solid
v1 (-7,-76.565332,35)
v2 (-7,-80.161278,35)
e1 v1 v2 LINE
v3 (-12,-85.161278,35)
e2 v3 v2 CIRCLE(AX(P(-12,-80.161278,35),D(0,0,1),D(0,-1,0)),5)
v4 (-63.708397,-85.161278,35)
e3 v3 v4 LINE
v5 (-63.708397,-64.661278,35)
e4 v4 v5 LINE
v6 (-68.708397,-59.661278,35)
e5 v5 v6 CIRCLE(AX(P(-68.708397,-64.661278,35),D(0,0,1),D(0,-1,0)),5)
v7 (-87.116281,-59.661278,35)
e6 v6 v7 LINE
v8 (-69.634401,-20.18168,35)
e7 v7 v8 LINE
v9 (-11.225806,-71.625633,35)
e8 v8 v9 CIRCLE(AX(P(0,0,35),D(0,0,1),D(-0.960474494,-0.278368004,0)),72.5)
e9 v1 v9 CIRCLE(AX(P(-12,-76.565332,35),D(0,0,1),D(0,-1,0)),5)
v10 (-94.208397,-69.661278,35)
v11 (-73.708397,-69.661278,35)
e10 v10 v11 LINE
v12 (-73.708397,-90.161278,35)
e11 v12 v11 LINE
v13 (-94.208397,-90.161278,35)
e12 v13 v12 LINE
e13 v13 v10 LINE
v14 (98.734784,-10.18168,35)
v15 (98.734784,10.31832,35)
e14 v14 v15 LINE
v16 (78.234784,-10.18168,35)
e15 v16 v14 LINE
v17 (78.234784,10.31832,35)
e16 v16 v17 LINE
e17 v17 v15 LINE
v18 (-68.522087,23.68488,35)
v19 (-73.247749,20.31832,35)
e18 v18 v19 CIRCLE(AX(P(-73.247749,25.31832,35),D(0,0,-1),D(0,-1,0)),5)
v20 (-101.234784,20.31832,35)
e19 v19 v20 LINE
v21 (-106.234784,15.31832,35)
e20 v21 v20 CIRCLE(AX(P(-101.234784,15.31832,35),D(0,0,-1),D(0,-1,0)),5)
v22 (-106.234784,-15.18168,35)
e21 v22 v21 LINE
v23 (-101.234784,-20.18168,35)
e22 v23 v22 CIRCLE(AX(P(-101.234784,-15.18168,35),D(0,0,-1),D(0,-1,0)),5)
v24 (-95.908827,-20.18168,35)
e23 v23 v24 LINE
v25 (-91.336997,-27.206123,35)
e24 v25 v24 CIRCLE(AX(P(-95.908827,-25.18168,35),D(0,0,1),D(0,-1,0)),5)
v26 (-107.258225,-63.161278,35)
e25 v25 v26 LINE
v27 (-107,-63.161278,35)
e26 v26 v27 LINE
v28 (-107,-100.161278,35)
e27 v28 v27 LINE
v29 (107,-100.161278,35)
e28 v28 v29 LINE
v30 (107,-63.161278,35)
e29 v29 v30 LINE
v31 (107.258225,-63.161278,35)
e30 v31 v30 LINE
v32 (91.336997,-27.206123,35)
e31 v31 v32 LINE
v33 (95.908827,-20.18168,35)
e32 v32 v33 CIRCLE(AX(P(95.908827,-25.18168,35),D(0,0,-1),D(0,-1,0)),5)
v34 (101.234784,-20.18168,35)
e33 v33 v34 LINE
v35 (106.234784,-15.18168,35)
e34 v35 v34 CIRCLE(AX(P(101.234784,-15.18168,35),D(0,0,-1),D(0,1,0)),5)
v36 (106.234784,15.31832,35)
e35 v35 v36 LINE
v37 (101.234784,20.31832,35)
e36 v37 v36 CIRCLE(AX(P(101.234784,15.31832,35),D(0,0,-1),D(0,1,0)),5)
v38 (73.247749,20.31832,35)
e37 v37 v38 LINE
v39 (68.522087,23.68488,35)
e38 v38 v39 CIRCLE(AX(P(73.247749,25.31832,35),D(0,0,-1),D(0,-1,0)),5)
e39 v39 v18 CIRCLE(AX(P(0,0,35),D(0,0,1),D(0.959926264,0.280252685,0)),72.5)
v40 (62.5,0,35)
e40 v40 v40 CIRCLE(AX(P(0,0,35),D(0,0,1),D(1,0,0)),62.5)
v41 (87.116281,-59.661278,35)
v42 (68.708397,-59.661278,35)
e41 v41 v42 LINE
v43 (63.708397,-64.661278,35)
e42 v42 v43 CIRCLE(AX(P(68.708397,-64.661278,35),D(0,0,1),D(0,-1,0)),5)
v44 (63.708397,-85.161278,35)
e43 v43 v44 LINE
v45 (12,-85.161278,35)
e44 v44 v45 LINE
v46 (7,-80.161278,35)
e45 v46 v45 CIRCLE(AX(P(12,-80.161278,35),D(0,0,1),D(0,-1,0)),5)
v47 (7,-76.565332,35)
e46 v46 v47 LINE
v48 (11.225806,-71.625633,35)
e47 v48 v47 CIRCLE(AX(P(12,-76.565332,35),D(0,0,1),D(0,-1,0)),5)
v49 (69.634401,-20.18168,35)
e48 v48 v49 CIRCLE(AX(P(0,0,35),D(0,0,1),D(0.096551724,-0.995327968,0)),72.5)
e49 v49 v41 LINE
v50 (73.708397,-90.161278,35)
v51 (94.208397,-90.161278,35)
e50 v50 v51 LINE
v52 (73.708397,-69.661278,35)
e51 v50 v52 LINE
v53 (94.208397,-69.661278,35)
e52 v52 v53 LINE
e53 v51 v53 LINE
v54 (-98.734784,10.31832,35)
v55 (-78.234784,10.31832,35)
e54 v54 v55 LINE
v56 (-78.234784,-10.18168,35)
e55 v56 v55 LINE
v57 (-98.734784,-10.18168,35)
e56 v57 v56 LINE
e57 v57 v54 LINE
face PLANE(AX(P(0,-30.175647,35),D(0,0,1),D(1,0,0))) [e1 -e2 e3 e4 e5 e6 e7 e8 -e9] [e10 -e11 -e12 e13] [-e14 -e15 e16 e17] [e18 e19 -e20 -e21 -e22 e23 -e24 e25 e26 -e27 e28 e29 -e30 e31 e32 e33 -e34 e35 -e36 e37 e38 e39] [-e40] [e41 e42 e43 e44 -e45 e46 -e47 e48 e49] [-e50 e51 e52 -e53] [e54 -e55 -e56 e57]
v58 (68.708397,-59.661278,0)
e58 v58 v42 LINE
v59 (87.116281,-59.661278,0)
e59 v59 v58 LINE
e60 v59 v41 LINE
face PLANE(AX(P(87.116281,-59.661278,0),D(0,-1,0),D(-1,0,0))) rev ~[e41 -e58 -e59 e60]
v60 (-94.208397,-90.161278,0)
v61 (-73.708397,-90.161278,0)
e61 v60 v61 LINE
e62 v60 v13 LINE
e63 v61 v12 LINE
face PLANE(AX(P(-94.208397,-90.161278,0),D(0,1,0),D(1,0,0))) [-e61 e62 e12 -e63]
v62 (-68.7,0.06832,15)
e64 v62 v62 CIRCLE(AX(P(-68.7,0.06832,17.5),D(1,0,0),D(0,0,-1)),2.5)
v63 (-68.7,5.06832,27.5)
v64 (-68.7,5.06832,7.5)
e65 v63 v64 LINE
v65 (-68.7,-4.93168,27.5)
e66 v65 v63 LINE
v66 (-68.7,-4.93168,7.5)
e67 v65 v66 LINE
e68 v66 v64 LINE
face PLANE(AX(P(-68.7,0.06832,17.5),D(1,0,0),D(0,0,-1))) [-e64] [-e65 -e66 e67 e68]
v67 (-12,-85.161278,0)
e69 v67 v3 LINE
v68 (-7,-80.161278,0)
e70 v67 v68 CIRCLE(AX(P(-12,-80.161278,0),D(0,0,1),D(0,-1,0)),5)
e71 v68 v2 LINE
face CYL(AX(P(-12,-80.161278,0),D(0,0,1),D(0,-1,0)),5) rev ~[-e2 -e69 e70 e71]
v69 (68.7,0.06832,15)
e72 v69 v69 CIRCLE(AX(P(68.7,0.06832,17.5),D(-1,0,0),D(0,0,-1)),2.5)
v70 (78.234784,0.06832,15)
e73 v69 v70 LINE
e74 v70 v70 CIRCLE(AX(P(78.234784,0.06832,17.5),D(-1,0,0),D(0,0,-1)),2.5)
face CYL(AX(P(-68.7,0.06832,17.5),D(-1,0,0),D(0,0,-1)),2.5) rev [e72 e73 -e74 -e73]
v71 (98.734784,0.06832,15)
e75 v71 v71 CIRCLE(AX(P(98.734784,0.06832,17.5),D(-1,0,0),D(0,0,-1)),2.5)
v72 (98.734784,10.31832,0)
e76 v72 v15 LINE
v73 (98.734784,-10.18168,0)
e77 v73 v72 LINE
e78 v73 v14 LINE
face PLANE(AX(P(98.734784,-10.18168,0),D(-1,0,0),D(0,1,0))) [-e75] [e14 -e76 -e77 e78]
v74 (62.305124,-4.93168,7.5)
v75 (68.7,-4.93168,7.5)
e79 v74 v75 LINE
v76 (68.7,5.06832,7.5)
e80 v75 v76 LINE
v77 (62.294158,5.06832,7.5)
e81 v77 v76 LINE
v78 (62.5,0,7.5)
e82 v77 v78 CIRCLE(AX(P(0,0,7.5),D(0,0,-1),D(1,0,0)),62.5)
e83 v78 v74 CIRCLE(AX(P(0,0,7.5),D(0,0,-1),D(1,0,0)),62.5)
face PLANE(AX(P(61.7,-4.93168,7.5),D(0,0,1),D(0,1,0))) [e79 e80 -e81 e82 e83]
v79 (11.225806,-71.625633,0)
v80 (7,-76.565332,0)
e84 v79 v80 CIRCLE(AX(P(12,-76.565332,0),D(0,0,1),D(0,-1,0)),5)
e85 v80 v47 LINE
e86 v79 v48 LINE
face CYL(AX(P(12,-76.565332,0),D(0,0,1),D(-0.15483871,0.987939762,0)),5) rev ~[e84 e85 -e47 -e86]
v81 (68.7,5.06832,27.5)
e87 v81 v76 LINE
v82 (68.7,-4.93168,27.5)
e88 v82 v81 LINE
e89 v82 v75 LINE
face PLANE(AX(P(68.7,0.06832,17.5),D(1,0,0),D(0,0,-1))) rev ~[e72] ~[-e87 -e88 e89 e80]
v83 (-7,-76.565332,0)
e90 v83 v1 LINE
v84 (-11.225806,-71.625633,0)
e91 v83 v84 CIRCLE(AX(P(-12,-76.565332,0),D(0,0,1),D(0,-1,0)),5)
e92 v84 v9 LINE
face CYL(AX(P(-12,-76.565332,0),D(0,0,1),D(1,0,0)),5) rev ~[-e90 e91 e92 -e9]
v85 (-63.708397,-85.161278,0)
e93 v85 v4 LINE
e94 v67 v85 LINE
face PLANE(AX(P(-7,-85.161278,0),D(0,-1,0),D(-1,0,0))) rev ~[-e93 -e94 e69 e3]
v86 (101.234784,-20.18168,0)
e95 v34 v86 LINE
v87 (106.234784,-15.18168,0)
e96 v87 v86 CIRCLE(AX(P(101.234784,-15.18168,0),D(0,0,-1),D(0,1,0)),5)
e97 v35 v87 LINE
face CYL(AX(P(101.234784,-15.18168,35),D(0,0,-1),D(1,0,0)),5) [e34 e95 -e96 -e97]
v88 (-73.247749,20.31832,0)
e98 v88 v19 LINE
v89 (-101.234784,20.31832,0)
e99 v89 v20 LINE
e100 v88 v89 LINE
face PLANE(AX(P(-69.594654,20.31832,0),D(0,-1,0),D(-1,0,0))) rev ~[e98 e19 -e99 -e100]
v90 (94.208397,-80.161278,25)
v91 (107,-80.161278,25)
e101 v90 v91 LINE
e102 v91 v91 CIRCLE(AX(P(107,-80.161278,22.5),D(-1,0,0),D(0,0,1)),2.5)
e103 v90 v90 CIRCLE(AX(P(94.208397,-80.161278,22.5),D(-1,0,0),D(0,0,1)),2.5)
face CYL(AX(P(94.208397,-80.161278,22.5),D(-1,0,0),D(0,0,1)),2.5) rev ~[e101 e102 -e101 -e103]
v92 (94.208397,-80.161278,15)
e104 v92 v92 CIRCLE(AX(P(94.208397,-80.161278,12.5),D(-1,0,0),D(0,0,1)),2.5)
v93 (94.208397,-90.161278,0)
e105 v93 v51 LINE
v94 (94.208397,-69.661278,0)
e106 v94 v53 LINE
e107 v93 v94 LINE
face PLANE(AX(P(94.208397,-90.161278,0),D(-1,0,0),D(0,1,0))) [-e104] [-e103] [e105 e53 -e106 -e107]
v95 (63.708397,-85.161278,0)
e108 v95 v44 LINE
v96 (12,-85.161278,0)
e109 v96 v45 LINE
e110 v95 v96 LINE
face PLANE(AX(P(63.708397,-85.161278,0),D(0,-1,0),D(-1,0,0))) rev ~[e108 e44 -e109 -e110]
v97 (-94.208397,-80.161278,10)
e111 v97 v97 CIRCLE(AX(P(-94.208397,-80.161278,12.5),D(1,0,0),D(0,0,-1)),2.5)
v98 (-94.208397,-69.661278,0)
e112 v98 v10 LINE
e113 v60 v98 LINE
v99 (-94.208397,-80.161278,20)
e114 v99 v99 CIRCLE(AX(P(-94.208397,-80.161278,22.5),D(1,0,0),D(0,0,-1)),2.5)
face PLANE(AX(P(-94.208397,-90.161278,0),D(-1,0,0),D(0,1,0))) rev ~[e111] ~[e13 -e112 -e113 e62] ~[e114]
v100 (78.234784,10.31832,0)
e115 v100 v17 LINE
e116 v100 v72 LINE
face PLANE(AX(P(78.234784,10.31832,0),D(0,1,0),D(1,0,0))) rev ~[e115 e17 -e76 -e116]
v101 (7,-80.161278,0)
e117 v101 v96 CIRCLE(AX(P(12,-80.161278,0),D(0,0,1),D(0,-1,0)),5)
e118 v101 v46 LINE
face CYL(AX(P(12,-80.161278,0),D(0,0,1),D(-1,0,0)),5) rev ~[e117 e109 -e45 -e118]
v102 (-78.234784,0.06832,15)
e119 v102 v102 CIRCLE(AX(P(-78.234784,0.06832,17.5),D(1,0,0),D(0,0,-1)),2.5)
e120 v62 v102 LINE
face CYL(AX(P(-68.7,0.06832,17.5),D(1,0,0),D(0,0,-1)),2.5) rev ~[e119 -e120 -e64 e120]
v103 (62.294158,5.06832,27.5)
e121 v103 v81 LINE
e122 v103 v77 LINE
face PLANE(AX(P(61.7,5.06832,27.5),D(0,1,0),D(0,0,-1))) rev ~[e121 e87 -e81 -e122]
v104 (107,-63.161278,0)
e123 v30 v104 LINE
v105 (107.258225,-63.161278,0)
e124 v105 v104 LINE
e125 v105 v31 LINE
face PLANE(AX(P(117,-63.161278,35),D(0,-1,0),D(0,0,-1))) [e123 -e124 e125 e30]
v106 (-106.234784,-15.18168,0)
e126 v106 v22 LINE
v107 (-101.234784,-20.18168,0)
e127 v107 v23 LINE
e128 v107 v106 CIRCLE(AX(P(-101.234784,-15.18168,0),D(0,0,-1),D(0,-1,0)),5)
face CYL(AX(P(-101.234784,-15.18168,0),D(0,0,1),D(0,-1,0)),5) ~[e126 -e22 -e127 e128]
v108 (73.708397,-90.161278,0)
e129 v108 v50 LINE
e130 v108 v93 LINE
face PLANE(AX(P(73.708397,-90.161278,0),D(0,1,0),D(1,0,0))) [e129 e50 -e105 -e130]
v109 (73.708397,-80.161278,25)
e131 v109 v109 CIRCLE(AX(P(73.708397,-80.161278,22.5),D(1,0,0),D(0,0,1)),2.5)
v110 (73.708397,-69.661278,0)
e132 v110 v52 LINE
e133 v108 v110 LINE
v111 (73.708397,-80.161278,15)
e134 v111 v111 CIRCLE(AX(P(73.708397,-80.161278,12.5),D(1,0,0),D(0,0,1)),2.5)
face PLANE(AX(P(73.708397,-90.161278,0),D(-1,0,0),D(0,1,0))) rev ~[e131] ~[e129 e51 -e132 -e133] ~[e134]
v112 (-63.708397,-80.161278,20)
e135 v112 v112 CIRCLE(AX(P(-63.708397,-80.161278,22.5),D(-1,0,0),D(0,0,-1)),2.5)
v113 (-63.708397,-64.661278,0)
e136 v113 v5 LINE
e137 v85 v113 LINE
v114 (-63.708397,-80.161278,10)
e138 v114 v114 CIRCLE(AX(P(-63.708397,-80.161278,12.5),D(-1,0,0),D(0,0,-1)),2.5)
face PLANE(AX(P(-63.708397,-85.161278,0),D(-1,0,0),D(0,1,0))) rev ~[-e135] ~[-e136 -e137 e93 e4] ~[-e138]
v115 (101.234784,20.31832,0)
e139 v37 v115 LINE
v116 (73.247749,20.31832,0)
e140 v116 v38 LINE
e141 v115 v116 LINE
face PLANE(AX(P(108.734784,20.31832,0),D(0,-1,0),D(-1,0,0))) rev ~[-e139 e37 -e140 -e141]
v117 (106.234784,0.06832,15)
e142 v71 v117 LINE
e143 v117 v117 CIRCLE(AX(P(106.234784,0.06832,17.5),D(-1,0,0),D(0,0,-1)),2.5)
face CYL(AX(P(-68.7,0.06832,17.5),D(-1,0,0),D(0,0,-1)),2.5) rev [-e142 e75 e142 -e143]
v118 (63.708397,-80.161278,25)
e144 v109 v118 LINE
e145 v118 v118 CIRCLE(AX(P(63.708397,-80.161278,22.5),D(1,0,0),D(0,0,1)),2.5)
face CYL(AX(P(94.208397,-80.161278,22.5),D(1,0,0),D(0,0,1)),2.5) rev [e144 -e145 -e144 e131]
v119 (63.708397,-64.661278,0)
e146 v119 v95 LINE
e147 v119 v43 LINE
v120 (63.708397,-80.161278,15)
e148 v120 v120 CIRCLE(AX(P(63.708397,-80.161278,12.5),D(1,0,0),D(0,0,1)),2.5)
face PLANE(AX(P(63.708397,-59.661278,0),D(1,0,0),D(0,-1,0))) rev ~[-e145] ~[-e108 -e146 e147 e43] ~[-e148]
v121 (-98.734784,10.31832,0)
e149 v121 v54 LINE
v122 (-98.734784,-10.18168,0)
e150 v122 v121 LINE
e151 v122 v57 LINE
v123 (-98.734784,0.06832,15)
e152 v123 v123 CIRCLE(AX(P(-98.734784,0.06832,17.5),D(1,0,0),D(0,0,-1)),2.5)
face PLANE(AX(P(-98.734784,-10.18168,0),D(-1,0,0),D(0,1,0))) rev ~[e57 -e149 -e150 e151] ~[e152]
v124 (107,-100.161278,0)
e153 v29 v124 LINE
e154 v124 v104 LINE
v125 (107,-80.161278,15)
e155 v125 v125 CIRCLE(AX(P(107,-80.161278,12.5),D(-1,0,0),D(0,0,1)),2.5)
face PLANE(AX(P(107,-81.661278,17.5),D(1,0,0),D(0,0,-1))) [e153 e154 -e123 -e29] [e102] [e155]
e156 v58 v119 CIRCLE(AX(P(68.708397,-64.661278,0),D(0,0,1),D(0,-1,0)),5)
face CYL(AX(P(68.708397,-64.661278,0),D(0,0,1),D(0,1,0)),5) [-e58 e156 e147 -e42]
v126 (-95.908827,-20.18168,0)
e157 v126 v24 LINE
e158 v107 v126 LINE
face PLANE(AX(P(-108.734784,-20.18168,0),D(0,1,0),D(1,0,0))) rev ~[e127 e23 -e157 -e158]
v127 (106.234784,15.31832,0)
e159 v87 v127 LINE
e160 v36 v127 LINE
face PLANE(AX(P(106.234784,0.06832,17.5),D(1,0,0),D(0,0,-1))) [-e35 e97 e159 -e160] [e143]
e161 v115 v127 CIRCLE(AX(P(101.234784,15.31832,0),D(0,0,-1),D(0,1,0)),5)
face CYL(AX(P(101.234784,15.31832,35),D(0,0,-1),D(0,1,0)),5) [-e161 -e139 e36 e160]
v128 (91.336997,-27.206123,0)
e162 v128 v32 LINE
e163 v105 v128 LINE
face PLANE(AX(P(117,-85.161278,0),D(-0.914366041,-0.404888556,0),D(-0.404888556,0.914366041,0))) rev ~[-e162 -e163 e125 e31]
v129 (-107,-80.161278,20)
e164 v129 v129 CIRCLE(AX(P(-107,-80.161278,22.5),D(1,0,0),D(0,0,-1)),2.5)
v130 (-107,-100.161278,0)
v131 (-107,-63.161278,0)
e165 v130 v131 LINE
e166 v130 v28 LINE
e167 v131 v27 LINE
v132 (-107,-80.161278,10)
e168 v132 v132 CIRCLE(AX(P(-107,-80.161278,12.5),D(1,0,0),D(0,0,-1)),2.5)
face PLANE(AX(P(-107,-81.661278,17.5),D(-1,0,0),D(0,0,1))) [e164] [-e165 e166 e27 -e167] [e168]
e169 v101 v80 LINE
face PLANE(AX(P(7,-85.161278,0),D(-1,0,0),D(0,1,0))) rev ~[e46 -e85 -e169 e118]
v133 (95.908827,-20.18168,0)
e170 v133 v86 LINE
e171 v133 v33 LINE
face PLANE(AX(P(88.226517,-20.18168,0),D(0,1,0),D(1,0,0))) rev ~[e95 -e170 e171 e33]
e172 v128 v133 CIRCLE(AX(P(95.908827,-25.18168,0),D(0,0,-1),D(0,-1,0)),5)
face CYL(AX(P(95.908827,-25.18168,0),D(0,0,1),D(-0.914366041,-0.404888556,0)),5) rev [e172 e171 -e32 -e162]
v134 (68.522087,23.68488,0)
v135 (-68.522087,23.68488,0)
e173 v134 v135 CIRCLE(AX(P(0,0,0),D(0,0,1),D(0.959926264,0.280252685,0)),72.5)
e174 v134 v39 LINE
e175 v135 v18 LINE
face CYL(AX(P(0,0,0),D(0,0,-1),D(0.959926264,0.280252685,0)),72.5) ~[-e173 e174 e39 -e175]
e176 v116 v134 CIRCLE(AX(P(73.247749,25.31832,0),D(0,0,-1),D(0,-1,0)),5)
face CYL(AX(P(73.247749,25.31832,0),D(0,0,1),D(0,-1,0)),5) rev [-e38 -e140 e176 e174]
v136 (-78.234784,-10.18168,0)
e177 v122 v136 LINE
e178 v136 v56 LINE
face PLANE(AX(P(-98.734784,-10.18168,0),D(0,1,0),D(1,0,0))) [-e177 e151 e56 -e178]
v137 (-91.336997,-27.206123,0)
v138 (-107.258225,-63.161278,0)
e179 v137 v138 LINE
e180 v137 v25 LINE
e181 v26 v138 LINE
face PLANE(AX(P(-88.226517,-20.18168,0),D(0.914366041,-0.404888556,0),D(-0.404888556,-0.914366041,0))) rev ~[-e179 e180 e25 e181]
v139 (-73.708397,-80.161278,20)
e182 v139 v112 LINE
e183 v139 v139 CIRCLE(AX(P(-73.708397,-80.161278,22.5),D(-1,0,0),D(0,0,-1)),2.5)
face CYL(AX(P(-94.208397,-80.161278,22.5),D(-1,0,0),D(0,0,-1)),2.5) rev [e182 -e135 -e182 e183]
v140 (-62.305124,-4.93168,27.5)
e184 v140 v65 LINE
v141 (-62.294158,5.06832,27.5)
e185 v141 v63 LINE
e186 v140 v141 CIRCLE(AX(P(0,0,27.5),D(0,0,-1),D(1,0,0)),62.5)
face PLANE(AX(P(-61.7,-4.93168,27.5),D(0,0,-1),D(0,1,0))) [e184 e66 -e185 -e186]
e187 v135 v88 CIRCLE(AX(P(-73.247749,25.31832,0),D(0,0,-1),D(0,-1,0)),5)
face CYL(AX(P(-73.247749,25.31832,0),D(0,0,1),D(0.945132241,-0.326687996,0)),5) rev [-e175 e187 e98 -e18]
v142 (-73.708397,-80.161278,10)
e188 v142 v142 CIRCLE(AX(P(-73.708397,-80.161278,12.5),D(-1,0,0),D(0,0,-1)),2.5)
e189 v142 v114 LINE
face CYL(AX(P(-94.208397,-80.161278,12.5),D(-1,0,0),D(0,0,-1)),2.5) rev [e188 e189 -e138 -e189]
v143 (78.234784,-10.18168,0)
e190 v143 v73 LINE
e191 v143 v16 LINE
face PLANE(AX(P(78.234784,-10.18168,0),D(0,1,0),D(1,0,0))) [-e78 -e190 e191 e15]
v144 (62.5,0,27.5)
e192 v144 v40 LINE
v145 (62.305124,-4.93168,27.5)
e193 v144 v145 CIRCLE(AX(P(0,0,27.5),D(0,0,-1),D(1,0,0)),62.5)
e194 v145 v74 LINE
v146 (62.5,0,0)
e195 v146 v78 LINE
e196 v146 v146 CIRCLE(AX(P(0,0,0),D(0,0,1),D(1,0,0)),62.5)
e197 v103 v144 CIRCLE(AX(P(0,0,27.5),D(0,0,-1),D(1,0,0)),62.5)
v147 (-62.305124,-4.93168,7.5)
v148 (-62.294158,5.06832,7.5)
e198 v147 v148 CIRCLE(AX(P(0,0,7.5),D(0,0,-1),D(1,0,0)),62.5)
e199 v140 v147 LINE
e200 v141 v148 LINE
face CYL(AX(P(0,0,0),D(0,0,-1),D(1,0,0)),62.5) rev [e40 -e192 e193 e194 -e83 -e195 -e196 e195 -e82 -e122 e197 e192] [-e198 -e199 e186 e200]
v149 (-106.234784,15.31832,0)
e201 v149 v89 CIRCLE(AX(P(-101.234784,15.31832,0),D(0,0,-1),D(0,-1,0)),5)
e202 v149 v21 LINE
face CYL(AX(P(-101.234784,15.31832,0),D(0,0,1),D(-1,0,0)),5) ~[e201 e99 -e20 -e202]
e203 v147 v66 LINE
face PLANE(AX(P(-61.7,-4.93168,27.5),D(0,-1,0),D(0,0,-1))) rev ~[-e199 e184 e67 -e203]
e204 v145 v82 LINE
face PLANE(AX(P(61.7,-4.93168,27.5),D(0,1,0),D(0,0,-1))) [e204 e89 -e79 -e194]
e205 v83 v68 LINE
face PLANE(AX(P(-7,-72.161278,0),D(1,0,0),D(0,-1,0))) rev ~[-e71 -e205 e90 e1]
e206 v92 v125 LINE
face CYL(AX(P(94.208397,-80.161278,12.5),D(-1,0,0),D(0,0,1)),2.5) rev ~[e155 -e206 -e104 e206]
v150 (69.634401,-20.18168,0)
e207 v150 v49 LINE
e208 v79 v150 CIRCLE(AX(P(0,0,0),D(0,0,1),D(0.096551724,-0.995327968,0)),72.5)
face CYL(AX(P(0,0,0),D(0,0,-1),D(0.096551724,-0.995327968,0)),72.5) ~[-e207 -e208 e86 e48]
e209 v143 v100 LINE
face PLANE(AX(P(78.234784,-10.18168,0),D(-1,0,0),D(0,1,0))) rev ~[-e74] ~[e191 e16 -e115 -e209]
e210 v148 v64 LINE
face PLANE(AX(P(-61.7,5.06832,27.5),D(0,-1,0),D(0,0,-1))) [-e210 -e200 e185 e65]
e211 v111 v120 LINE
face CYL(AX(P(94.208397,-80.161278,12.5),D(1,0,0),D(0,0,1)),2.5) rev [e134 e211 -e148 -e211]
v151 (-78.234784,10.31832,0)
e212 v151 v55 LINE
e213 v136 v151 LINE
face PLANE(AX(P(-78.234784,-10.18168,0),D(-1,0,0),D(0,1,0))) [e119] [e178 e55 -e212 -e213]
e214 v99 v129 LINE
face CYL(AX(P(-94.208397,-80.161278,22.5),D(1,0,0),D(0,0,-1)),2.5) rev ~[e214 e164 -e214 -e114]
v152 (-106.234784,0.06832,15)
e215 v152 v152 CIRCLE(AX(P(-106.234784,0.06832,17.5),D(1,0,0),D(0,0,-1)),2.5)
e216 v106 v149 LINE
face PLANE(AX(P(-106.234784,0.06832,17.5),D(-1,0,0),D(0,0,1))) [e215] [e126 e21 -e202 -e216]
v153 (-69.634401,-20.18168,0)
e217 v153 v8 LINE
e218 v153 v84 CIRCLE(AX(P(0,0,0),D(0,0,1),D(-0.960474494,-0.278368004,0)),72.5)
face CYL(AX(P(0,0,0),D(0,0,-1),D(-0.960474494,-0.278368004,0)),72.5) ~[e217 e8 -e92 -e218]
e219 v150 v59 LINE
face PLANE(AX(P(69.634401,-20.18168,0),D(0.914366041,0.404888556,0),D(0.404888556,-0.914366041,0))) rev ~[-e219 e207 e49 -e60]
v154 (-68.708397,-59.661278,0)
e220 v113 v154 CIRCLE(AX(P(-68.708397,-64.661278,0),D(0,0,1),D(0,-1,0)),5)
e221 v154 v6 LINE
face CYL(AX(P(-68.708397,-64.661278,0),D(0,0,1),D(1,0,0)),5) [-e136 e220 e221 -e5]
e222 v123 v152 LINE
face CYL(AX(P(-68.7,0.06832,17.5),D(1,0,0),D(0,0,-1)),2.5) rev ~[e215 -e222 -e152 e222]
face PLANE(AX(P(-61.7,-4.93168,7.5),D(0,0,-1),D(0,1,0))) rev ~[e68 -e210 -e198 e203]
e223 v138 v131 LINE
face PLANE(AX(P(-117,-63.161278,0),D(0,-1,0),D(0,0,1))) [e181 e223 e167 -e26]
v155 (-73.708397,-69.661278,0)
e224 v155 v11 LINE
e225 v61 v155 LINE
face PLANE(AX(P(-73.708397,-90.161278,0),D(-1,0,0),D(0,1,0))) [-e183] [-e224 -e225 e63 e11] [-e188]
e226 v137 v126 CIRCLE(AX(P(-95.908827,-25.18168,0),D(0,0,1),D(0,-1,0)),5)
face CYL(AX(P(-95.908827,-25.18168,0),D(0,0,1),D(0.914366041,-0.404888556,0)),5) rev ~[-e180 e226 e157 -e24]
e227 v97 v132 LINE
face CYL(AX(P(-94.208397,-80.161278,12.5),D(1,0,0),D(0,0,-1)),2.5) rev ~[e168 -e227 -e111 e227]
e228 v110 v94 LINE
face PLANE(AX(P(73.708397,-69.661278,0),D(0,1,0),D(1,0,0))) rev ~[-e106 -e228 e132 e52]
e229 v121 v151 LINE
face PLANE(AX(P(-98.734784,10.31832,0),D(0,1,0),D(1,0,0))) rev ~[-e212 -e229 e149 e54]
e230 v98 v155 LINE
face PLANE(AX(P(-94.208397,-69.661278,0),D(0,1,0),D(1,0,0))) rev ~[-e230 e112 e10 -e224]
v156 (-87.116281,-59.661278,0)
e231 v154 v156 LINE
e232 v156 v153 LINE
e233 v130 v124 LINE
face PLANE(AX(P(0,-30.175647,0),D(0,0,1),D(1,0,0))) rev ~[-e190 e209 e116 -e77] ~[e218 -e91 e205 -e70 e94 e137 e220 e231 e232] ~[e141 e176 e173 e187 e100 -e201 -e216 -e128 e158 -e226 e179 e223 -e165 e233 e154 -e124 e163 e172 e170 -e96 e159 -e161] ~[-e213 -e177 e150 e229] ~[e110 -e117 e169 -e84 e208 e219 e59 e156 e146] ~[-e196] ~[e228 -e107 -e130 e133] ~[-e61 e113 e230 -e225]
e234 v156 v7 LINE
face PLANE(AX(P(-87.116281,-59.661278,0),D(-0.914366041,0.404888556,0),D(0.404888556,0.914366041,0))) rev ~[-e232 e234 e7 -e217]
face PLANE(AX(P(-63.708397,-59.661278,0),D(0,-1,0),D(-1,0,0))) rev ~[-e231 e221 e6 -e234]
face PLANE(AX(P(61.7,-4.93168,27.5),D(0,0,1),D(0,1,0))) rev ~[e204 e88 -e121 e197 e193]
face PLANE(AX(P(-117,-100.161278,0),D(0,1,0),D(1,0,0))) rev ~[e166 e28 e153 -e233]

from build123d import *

# Parameters (mm, degrees)
SKETCH1_W                = 20.5
SKETCH1_H                = 20.5
SKETCH1_R                = 62.5
BOSS_EXTRUDE1_DEPTH      = 35
FILLET2_R                = 5
SKETCH2_W                = 20
SKETCH2_H                = 10
CUT_EXTRUDE2_DEPTH       = 7
SKETCH3_W                = 20
SKETCH3_H                = 10
CUT_EXTRUDE3_DEPTH       = 7
SKETCH4_W                = 35
SKETCH4_H                = 37
CUT_EXTRUDE4_DEPTH       = 10
SKETCH5_W                = 35
SKETCH5_H                = 37
CUT_EXTRUDE5_DEPTH       = 10
SKETCH6_W                = 35
SKETCH6_H                = 40.5
CUT_EXTRUDE8_DEPTH       = 2.5
SKETCH7_W                = 35
SKETCH7_H                = 40.5
CUT_EXTRUDE9_DEPTH       = 2.5
FILLET3_R                = 5
SKETCH8_R                = 2.5
CUT_EXTRUDE10_DEPTH      = 194
CUT_EXTRUDE10_DEPTH_BACK = 48
SKETCH9_R                = 2.5
CUT_EXTRUDE11_DEPTH      = 48
CUT_EXTRUDE11_DEPTH_BACK = 48
SKETCH10_R               = 2.5
CUT_EXTRUDE12_DEPTH      = 48
CUT_EXTRUDE12_DEPTH_BACK = 48


with BuildPart() as part:
    # Sketch1 → Boss-Extrude1 (new body)
    with BuildSketch(Plane.XY):
        with BuildLine():
            Line((117, -100.161277705), (117, -85.161277705))
            Line((117, -85.161277705), (88.226517383, -20.181680312))
            Line((88.226517383, -20.181680312), (108.734784021, -20.181680312))
            Line((108.734784021, -20.181680312), (108.734784021, 20.318319688))
            Line((108.734784021, 20.318319688), (69.594654141, 20.318319688))
            ThreePointArc((69.594654141, 20.318319688), (0, 72.5), (-69.594654141, 20.318319688))
            Line((-69.594654141, 20.318319688), (-108.734784021, 20.318319688))
            Line((-108.734784021, 20.318319688), (-108.734784021, -20.181680312))
            Line((-108.734784021, -20.181680312), (-88.226517383, -20.181680312))
            Line((-88.226517383, -20.181680312), (-117, -85.161277705))
            Line((-117, -85.161277705), (-117, -100.161277705))
            Line((-117, -100.161277705), (117, -100.161277705))
        make_face()
        with Locations((83.958397156, -79.911277705)):
            Rectangle(SKETCH1_W, SKETCH1_H, mode=Mode.SUBTRACT)
        with Locations((-83.958397156, -79.911277705)):
            Rectangle(SKETCH1_W, SKETCH1_H, mode=Mode.SUBTRACT)
        with BuildLine():
            Line((-63.708397156, -59.661277705), (-87.116280609, -59.661277705))
            Line((-87.116280609, -59.661277705), (-69.634400836, -20.181680312))
            ThreePointArc((-69.634400836, -20.181680312), (-46.29986484, -55.79043391), (-7, -72.161277705))
            Line((-7, -72.161277705), (-7, -85.161277705))
            Line((-7, -85.161277705), (-63.708397156, -85.161277705))
            Line((-63.708397156, -85.161277705), (-63.708397156, -59.661277705))
        make_face(mode=Mode.SUBTRACT)
        with BuildLine():
            Line((87.116280609, -59.661277705), (63.708397156, -59.661277705))
            Line((63.708397156, -59.661277705), (63.708397156, -85.161277705))
            Line((63.708397156, -85.161277705), (7, -85.161277705))
            Line((7, -85.161277705), (7, -72.161277705))
            ThreePointArc((7, -72.161277705), (46.29986484, -55.79043391), (69.634400836, -20.181680312))
            Line((69.634400836, -20.181680312), (87.116280609, -59.661277705))
        make_face(mode=Mode.SUBTRACT)
        with Locations((-88.484784021, 0.068319688)):
            Rectangle(SKETCH1_W, SKETCH1_H, mode=Mode.SUBTRACT)
        Circle(SKETCH1_R, mode=Mode.SUBTRACT)
        with Locations((88.484784021, 0.068319688)):
            Rectangle(SKETCH1_W, SKETCH1_H, mode=Mode.SUBTRACT)
    extrude(amount=BOSS_EXTRUDE1_DEPTH)

    # Fillet2
    fillet2_edges = [part.edges().sort_by_distance(p)[0] for p in [
        (-88.226517383, -20.181680312, 17.5),
        (-69.594654141, 20.318319688, 17.5),
        (69.594654141, 20.318319688, 17.5),
        (88.226517383, -20.181680312, 17.5),
        (7, -72.161277705, 17.5),
        (7, -85.161277705, 17.5),
        (63.708397156, -59.661277705, 17.5),
        (-63.708397156, -59.661277705, 17.5),
        (-7, -85.161277705, 17.5),
        (-7, -72.161277705, 17.5),
    ]]
    fillet(fillet2_edges, radius=FILLET2_R)

    # Sketch2 → Cut-Extrude2 (cut)
    with BuildSketch(Plane(origin=(61.7, 0, 0), x_dir=(0, 0, -1), z_dir=(1, 0, 0))):
        with Locations((-17.5, 0.068319688)):
            Rectangle(SKETCH2_W, SKETCH2_H)
    extrude(amount=CUT_EXTRUDE2_DEPTH, mode=Mode.SUBTRACT)

    # Sketch3 → Cut-Extrude3 (cut)
    with BuildSketch(Plane(origin=(-61.7, 0, 0), x_dir=(0, 0, -1), z_dir=(1, 0, 0))):
        with Locations((-17.5, 0.068319688)):
            Rectangle(SKETCH3_W, SKETCH3_H)
    extrude(amount=-CUT_EXTRUDE3_DEPTH, mode=Mode.SUBTRACT)

    # Sketch4 → Cut-Extrude4 (cut)
    with BuildSketch(Plane(origin=(117, 0, 0), x_dir=(0, 0, -1), z_dir=(1, 0, 0))):
        with Locations((-17.5, -81.661277705)):
            Rectangle(SKETCH4_W, SKETCH4_H)
    extrude(amount=-CUT_EXTRUDE4_DEPTH, mode=Mode.SUBTRACT)

    # Sketch5 → Cut-Extrude5 (cut)
    with BuildSketch(Plane.ZY.offset(117)):
        with Locations((17.5, -81.661277705)):
            Rectangle(SKETCH5_W, SKETCH5_H)
    extrude(amount=-CUT_EXTRUDE5_DEPTH, mode=Mode.SUBTRACT)

    # Sketch6 → Cut-Extrude8 (cut)
    with BuildSketch(Plane(origin=(108.734784021, 0, 0), x_dir=(0, 0, -1), z_dir=(1, 0, 0))):
        with Locations((-17.5, 0.068319688)):
            Rectangle(SKETCH6_W, SKETCH6_H)
    extrude(amount=-CUT_EXTRUDE8_DEPTH, mode=Mode.SUBTRACT)

    # Sketch7 → Cut-Extrude9 (cut)
    with BuildSketch(Plane.ZY.offset(108.734784021)):
        with Locations((17.5, 0.068319688)):
            Rectangle(SKETCH7_W, SKETCH7_H)
    extrude(amount=-CUT_EXTRUDE9_DEPTH, mode=Mode.SUBTRACT)

    # Fillet3
    fillet3_edges = [part.edges().sort_by_distance(p)[0] for p in [
        (106.234784021, 20.318319688, 17.5),
        (106.234784021, -20.181680312, 17.5),
        (-106.234784021, 20.318319688, 17.5),
        (-106.234784021, -20.181680312, 17.5),
    ]]
    fillet(fillet3_edges, radius=FILLET3_R)

    # Sketch8 → Cut-Extrude10 (cut, two sides)
    with BuildSketch(Plane(origin=(-68.7, 0, 0), x_dir=(0, 0, -1), z_dir=(1, 0, 0))) as cut_extrude10_sk:
        with Locations((-17.5, 0.068319688)):
            Circle(SKETCH8_R)
    extrude(amount=CUT_EXTRUDE10_DEPTH, mode=Mode.SUBTRACT)
    extrude(cut_extrude10_sk.sketch, amount=-CUT_EXTRUDE10_DEPTH_BACK, mode=Mode.SUBTRACT)

    # Sketch9 → Cut-Extrude11 (cut, two sides)
    with BuildSketch(Plane(origin=(-94.208397156, 0, 0), x_dir=(0, 0, -1), z_dir=(1, 0, 0))) as cut_extrude11_sk:
        with Locations((-22.5, -80.161277705)):
            Circle(SKETCH9_R)
        with Locations((-12.5, -80.161277705)):
            Circle(SKETCH9_R)
    extrude(amount=CUT_EXTRUDE11_DEPTH, mode=Mode.SUBTRACT)
    extrude(cut_extrude11_sk.sketch, amount=-CUT_EXTRUDE11_DEPTH_BACK, mode=Mode.SUBTRACT)

    # Sketch10 → Cut-Extrude12 (cut, two sides)
    with BuildSketch(Plane.ZY.offset(-94.208397156)) as cut_extrude12_sk:
        with Locations((12.5, -80.161277705)):
            Circle(SKETCH10_R)
        with Locations((22.5, -80.161277705)):
            Circle(SKETCH10_R)
    extrude(amount=CUT_EXTRUDE12_DEPTH, mode=Mode.SUBTRACT)
    extrude(cut_extrude12_sk.sketch, amount=-CUT_EXTRUDE12_DEPTH_BACK, mode=Mode.SUBTRACT)


solid = part.part
